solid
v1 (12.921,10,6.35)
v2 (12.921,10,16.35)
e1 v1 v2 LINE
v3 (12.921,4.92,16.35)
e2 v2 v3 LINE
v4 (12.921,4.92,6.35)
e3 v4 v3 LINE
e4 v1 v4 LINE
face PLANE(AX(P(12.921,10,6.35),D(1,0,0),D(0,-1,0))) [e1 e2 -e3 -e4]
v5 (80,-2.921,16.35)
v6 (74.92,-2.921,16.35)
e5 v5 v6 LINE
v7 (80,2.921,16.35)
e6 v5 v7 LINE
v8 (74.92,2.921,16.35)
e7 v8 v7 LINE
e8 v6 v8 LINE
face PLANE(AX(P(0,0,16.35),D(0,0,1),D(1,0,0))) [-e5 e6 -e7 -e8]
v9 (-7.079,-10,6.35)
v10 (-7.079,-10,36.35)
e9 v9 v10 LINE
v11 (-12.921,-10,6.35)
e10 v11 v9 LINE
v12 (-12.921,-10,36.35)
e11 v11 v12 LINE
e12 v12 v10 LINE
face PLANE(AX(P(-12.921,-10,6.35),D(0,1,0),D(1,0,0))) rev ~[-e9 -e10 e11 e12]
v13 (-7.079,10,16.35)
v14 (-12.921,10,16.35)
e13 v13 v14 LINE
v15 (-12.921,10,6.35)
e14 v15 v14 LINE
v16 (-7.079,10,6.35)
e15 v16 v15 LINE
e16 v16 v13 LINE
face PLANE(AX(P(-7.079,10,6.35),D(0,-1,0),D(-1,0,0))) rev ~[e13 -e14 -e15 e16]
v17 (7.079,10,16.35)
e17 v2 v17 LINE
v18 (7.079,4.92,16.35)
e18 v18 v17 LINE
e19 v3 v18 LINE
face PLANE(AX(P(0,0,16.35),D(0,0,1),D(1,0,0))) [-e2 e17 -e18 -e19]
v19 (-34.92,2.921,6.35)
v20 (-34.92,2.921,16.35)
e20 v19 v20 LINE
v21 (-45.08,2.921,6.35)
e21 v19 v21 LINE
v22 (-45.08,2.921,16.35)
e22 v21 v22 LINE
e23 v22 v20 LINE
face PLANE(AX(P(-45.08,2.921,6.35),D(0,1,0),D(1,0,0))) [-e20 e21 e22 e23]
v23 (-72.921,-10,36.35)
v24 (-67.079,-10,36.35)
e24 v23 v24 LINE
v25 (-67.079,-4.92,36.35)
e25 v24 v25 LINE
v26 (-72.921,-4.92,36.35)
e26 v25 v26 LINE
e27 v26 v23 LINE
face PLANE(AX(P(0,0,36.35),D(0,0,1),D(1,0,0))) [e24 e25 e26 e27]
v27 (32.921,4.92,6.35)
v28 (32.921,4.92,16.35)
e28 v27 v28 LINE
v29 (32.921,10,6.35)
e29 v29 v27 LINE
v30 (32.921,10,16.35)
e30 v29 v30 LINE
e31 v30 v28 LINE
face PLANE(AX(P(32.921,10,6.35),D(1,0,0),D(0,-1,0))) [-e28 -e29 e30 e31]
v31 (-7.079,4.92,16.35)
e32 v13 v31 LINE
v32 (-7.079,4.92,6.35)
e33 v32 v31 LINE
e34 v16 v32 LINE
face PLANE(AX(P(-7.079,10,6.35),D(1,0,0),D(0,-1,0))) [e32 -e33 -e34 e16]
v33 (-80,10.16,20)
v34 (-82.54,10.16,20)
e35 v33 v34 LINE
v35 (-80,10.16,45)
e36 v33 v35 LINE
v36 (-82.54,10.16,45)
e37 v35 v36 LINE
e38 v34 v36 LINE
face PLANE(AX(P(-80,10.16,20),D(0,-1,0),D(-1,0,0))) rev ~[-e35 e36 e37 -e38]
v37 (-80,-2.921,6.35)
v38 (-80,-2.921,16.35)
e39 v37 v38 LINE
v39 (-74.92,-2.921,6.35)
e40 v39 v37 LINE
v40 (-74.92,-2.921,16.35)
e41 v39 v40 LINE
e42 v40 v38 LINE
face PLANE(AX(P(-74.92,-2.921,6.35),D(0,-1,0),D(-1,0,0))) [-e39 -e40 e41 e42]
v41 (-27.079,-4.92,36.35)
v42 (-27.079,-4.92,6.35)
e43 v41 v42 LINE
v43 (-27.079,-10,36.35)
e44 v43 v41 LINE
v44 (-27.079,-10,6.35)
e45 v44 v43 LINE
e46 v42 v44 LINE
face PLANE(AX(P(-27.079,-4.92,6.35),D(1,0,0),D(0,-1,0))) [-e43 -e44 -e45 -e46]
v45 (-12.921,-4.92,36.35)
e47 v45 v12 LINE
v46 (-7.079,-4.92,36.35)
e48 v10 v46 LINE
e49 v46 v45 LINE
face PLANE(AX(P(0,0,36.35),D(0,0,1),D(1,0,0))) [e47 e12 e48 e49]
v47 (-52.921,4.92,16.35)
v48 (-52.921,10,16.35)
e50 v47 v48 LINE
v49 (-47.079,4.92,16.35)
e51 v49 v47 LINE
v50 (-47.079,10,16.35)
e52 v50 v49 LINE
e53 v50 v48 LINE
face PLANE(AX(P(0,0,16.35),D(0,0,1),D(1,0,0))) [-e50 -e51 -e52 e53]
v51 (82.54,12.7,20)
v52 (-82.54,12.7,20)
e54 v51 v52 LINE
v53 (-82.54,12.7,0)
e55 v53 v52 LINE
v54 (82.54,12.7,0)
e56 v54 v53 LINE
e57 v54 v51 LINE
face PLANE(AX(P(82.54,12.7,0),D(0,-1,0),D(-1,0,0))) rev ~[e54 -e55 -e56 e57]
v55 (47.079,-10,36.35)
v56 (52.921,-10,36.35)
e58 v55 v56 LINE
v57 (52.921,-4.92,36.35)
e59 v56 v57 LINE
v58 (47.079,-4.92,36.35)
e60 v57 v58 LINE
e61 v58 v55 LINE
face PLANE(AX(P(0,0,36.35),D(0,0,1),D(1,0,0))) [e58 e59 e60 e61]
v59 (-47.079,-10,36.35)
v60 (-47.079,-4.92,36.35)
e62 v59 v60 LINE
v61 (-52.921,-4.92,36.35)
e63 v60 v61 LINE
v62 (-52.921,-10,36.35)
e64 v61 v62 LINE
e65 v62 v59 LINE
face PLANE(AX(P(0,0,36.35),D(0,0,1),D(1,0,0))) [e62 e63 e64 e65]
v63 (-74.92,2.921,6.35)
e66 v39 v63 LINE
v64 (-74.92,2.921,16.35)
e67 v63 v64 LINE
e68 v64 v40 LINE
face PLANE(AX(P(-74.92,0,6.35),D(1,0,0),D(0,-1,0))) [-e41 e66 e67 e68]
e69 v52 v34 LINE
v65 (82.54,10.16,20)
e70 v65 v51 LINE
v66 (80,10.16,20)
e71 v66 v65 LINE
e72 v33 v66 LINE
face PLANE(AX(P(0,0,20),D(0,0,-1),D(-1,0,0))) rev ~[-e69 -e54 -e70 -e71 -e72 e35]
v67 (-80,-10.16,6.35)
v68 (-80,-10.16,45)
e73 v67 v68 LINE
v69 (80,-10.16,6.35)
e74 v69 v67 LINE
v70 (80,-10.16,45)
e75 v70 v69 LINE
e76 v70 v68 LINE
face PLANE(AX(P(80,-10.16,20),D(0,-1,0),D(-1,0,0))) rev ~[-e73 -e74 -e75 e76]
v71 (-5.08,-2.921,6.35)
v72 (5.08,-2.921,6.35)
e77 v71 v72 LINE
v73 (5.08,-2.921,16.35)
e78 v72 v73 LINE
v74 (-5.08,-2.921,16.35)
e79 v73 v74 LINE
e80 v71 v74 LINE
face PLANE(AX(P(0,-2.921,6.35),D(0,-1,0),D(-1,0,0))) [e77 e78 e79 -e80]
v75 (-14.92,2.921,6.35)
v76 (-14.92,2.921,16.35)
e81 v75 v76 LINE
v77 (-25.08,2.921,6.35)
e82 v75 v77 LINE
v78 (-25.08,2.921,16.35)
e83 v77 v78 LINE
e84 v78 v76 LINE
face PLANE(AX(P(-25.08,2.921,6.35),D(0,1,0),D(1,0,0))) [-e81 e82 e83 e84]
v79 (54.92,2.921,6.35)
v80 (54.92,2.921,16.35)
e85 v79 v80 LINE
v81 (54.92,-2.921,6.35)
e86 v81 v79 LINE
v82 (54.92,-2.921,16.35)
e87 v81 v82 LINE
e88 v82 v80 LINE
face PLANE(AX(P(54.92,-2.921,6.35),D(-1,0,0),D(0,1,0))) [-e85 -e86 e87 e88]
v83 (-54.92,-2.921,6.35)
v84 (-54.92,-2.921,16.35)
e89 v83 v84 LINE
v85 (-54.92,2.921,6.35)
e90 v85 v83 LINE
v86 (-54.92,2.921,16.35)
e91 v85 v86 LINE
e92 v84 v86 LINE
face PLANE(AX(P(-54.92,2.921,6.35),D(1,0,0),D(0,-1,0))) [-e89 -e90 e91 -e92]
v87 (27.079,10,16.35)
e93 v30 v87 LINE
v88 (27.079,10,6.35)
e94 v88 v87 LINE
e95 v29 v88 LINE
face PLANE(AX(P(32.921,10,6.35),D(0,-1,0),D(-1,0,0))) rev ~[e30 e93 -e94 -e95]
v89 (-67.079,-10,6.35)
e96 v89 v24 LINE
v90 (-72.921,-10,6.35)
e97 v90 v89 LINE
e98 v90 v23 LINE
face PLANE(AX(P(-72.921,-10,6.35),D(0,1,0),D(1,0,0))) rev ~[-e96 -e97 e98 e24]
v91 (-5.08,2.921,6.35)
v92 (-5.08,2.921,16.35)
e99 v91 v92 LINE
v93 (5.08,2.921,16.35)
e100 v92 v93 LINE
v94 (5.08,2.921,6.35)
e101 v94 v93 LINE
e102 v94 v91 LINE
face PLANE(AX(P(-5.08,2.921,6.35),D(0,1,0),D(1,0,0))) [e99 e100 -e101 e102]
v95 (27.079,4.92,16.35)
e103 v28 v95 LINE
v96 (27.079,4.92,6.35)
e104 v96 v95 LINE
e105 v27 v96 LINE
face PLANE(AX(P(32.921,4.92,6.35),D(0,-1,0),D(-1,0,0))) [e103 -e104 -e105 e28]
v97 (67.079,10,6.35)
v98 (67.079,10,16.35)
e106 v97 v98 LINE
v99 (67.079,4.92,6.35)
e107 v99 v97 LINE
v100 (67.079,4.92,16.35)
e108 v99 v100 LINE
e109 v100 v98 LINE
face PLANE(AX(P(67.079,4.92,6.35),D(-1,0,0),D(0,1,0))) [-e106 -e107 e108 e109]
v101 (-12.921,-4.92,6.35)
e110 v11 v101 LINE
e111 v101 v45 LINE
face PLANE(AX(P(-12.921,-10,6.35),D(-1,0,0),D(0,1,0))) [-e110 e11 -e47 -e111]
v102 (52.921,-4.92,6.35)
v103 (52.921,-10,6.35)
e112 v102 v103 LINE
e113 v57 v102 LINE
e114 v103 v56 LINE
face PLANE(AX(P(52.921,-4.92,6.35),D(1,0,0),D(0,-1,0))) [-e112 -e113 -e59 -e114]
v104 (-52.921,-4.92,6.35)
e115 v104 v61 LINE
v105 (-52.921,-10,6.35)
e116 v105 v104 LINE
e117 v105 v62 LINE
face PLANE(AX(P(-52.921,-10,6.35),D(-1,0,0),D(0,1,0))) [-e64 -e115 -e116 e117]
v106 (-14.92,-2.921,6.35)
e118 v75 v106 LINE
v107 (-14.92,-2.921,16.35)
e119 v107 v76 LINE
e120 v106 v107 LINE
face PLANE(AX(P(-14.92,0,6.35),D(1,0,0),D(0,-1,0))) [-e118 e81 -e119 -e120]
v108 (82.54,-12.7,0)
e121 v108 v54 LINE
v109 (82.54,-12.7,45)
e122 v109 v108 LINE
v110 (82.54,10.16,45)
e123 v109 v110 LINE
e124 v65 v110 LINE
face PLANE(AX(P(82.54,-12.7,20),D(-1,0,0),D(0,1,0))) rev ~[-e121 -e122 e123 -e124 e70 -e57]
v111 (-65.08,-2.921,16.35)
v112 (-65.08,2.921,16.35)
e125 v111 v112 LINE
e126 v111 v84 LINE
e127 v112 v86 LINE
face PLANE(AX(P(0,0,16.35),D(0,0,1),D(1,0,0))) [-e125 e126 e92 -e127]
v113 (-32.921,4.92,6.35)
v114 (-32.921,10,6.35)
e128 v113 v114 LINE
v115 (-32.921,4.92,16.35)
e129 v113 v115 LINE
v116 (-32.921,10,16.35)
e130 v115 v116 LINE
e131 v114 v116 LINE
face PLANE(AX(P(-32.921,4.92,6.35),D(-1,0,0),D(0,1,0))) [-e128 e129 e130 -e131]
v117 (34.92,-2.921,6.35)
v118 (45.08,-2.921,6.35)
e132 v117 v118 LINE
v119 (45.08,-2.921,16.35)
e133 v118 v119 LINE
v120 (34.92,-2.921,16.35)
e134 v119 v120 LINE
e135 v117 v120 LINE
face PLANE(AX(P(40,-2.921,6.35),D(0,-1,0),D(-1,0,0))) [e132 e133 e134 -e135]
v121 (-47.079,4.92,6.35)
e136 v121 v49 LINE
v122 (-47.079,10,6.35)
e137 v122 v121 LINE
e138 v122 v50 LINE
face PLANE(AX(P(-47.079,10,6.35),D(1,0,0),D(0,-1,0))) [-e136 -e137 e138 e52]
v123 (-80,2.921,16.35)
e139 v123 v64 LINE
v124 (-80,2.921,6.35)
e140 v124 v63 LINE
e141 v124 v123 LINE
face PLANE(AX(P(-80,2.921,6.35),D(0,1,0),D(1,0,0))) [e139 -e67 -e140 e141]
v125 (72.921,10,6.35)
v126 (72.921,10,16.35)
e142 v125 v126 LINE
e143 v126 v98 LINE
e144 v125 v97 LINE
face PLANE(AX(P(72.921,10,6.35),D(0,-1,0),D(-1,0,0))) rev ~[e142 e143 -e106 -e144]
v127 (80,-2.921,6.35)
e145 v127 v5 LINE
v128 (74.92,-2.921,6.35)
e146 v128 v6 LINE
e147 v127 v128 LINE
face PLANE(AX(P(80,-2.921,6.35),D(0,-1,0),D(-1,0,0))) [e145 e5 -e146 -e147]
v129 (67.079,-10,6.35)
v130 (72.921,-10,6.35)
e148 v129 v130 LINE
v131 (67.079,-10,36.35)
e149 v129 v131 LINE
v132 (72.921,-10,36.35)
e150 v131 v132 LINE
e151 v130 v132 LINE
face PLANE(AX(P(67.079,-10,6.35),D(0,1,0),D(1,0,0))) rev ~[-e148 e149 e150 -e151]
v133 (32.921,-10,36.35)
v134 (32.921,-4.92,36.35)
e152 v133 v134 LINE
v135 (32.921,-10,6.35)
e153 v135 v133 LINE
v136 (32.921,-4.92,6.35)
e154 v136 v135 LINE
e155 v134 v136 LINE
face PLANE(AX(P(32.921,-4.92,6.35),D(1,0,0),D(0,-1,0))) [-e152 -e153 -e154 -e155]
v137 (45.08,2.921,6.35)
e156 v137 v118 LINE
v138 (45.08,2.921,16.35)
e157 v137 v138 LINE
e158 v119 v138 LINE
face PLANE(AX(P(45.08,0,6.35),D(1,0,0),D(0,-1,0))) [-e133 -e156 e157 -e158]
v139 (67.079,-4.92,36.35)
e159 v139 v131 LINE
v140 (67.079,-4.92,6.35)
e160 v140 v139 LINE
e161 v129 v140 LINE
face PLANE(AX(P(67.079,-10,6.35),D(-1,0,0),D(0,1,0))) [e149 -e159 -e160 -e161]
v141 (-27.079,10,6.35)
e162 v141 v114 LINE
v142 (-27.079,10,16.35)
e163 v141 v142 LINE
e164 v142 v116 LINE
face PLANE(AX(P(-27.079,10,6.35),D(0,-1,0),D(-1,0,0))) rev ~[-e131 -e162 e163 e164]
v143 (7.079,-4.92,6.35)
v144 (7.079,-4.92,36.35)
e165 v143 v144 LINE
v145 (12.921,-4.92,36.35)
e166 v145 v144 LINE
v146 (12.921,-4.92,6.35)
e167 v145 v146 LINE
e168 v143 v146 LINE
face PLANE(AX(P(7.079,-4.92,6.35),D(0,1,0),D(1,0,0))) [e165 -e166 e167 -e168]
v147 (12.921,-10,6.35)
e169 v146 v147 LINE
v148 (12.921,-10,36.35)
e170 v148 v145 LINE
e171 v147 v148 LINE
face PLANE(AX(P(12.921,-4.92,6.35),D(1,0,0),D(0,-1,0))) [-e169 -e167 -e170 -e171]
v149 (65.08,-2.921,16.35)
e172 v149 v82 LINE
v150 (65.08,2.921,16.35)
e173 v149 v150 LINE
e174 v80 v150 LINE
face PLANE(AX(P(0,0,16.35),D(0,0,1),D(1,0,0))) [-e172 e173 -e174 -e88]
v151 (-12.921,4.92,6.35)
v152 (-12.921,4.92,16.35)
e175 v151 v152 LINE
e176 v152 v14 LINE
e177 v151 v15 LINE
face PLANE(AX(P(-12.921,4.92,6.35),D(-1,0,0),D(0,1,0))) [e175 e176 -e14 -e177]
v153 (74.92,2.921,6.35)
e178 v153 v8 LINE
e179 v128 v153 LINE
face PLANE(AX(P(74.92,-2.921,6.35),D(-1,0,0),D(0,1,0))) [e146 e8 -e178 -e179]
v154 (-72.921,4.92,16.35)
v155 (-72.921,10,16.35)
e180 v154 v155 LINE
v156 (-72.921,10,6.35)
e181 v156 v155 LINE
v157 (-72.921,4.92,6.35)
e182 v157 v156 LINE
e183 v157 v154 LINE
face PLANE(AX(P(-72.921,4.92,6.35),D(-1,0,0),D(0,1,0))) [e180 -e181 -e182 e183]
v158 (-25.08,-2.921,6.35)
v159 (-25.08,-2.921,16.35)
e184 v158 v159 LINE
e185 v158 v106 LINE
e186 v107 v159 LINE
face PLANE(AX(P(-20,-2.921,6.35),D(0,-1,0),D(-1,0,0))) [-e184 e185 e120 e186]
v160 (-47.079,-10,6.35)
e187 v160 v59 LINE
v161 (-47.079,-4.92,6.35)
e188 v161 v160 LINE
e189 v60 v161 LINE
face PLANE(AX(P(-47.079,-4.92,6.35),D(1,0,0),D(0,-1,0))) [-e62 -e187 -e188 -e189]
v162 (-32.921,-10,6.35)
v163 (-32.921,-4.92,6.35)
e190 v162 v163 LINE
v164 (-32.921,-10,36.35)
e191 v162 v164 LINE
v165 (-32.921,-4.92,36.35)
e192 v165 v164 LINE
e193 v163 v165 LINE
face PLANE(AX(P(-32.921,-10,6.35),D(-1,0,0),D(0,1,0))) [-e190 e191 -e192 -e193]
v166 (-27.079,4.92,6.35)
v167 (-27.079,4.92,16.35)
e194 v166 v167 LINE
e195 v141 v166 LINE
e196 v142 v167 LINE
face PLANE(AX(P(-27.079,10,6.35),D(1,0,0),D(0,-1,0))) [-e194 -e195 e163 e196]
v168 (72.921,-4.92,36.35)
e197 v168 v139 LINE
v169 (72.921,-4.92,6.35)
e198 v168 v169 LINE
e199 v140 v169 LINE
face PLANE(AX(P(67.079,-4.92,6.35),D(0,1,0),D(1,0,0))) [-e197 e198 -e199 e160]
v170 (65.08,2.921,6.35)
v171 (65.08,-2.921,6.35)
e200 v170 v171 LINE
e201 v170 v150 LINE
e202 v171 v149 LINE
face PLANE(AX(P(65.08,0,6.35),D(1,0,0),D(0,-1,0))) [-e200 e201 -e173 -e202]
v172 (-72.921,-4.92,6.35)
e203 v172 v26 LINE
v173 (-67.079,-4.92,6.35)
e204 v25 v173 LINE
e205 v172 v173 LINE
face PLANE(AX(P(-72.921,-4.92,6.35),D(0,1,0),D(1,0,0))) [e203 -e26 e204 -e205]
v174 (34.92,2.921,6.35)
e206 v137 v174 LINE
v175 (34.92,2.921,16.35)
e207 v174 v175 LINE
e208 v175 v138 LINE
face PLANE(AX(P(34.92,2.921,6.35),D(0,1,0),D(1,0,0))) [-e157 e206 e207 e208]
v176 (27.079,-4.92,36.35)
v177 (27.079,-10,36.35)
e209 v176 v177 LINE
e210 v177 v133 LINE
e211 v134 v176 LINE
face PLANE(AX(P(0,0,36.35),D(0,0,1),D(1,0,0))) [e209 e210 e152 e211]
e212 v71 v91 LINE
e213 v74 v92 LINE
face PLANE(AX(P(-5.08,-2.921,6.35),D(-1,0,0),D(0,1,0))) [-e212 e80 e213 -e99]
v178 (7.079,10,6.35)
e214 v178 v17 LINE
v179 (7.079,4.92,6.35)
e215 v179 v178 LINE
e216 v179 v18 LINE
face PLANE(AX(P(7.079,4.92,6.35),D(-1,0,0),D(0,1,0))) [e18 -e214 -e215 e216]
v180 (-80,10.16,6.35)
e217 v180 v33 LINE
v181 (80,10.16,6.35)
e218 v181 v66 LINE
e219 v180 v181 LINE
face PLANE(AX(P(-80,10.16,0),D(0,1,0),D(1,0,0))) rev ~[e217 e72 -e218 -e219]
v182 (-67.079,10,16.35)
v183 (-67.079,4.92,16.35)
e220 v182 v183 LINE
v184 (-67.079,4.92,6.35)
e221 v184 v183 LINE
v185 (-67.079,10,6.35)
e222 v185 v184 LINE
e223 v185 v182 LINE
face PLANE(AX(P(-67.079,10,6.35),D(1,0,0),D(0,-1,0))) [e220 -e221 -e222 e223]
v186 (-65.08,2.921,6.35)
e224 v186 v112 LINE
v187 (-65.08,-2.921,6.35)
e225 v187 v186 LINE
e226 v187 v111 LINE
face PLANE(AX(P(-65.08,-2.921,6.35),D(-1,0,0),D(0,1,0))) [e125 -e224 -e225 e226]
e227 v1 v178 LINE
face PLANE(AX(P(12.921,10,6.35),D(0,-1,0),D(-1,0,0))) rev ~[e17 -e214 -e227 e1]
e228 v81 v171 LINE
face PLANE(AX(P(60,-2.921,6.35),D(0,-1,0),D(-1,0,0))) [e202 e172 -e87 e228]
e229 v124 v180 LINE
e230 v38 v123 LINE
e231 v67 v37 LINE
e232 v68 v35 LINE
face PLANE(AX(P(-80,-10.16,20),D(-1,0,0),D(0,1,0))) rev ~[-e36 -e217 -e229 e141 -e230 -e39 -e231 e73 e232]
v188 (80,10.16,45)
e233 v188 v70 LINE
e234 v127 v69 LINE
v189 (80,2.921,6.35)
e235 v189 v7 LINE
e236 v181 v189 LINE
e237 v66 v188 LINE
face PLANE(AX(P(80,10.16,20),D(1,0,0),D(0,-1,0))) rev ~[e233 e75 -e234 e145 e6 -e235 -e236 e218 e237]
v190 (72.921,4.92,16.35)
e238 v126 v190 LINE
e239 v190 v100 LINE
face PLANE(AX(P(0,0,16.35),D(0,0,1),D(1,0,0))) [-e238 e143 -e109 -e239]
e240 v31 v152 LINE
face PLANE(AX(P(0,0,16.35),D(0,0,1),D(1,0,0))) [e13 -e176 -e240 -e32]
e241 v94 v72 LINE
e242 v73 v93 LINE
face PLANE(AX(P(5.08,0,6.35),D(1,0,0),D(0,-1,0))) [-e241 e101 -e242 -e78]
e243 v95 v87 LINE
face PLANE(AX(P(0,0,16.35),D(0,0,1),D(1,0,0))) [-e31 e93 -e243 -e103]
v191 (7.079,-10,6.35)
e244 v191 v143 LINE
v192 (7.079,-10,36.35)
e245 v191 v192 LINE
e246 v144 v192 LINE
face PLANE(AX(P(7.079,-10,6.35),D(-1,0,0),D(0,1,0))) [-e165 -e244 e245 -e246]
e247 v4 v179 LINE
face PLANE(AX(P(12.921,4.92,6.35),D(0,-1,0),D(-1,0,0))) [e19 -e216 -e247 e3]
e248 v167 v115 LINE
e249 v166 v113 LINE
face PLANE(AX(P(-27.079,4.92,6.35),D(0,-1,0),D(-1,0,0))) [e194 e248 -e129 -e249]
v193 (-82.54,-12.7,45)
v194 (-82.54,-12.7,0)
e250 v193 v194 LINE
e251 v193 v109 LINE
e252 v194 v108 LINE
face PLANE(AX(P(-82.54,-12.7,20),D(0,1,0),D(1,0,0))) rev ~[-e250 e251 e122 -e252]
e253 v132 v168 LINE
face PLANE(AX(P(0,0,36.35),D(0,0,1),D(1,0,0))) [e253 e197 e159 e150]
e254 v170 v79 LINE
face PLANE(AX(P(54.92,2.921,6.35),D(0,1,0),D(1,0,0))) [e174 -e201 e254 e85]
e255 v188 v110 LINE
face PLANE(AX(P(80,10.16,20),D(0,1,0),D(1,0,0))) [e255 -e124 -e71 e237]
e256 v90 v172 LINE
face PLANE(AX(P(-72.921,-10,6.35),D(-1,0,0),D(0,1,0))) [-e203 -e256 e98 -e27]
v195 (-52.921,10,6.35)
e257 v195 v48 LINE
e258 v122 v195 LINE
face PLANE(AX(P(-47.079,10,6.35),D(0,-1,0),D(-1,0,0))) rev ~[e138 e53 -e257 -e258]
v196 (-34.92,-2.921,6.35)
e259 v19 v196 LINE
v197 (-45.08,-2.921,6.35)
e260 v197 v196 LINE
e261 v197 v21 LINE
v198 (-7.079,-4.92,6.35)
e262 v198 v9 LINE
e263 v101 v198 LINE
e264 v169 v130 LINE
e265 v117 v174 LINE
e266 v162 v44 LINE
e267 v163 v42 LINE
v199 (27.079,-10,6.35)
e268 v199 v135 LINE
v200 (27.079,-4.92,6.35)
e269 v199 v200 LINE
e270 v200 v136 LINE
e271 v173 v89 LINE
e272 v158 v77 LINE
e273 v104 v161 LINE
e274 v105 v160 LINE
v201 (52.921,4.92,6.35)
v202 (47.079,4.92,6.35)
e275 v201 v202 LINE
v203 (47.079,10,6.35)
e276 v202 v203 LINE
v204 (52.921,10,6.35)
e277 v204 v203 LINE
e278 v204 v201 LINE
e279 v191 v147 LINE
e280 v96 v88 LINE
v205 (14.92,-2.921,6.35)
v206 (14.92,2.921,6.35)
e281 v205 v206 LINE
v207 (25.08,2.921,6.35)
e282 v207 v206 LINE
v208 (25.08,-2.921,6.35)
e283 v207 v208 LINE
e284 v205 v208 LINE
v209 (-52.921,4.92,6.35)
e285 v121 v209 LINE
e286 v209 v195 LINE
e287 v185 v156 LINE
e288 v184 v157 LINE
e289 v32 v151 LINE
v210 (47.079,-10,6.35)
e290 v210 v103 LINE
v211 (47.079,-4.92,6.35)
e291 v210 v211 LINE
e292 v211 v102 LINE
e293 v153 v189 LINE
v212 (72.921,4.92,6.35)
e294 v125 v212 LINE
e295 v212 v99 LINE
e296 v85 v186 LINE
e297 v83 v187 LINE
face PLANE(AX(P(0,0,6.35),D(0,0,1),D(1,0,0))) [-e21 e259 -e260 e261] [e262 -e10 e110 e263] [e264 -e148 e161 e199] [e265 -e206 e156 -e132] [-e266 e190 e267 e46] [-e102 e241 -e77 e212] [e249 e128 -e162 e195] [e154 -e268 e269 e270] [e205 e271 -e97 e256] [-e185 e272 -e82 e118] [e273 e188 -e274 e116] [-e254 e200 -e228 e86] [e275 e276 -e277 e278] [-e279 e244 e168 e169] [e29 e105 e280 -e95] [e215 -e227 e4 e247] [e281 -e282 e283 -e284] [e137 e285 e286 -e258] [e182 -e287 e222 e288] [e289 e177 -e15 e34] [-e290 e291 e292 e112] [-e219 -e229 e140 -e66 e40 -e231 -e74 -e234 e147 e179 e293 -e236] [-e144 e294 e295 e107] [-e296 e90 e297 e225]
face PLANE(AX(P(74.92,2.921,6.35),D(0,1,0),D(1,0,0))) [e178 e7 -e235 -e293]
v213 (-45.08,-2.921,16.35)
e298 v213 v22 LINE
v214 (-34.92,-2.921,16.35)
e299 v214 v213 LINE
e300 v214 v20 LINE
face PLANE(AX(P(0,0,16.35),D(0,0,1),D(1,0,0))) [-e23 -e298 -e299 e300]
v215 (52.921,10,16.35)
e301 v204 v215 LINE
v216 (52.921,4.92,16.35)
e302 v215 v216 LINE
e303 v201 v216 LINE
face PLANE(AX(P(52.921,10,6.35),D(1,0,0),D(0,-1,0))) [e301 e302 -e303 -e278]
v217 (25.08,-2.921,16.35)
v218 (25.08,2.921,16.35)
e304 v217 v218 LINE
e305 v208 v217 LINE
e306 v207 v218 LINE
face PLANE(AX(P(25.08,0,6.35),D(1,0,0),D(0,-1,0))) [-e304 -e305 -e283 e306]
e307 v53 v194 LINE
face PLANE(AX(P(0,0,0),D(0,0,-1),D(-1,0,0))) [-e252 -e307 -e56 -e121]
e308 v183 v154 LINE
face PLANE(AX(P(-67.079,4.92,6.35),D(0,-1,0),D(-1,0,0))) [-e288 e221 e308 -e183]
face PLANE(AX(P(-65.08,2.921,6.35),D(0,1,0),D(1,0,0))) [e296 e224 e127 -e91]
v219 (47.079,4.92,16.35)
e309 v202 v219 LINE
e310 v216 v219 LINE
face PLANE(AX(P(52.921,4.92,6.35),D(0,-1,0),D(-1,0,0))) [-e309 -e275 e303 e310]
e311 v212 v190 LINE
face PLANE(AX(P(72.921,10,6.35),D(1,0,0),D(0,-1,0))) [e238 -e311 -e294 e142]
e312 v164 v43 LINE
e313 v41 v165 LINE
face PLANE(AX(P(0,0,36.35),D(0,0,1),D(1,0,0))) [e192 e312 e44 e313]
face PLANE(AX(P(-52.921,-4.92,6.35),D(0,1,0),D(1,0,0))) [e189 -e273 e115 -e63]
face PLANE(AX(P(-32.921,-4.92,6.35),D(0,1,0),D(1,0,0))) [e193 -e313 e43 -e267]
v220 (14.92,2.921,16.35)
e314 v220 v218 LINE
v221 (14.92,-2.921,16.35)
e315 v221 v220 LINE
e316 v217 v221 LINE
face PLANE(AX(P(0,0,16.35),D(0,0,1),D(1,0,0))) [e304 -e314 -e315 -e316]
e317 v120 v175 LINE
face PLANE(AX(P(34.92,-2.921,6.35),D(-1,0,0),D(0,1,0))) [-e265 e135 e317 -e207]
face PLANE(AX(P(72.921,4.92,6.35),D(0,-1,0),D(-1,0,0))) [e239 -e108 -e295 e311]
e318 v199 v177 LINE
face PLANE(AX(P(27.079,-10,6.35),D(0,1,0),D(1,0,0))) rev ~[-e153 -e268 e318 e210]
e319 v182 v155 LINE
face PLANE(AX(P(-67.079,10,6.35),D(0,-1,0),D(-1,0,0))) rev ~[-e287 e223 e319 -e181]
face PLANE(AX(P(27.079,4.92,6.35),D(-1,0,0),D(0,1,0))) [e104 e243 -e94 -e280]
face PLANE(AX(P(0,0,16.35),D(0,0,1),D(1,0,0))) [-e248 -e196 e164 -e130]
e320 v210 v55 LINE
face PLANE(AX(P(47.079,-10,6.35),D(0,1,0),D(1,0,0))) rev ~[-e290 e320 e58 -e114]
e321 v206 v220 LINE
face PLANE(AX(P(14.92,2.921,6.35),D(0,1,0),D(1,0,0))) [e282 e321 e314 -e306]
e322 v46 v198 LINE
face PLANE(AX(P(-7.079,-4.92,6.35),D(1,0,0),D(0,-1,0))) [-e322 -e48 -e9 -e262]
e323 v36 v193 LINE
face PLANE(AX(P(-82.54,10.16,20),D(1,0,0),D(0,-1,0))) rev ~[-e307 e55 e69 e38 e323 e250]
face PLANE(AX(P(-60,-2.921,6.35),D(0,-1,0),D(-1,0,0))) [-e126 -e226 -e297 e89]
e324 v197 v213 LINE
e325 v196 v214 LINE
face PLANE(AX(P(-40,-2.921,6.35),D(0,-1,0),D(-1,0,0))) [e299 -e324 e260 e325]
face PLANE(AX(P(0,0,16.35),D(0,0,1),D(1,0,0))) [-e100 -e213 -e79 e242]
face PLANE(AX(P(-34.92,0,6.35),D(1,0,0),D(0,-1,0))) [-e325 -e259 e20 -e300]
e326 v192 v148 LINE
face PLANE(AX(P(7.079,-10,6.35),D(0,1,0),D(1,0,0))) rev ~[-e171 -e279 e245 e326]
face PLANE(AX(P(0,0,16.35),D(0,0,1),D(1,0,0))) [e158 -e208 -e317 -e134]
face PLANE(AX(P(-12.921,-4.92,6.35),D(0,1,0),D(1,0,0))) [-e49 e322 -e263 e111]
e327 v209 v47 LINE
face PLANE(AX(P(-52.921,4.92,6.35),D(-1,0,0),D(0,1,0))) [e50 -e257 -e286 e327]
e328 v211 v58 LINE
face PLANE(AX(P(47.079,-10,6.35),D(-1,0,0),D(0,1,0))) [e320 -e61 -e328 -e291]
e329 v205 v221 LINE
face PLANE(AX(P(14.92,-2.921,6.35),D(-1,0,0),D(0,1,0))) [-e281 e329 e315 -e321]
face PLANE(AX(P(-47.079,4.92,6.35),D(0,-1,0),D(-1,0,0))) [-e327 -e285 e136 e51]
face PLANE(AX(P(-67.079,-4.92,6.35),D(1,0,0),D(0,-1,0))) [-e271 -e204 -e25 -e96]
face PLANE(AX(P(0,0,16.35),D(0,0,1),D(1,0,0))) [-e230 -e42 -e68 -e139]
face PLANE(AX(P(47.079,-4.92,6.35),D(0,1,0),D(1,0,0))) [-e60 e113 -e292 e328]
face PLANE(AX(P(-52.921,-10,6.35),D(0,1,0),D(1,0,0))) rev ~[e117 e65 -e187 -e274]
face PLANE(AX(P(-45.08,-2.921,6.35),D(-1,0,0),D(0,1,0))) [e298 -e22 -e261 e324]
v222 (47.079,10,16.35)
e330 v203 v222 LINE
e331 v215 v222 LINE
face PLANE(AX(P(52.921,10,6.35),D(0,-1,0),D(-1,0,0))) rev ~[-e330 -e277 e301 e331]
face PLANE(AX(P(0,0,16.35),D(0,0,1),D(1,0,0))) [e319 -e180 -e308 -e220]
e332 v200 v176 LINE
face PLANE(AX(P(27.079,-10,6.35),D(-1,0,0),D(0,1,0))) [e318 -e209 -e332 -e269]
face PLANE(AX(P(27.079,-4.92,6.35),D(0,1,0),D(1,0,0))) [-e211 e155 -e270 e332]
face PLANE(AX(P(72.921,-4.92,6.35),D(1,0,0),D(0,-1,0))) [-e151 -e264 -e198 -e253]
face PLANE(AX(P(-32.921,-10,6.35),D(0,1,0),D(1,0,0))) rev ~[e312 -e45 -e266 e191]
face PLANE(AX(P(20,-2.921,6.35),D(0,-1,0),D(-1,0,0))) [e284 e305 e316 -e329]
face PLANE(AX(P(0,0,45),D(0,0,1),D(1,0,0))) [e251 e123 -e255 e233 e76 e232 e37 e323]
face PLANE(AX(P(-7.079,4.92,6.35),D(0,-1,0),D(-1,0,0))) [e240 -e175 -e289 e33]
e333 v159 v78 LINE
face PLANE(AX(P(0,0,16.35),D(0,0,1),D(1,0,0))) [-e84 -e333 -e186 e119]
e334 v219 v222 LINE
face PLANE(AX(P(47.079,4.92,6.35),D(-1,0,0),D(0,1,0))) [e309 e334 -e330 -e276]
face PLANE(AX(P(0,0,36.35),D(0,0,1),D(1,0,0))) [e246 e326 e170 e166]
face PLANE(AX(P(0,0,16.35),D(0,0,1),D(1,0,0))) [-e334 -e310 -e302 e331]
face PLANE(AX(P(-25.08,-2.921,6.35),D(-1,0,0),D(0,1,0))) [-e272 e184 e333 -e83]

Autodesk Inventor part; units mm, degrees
ref_plane "YZ Plane" through (0, 0, 0) normal (1, 0, 0) x (0, 1, 0)
ref_plane "XZ Plane" through (0, 0, 0) normal (0, 1, 0) x (-1, 0, 0)
ref_plane "XY Plane" through (0, 0, 0) normal (0, 0, 1) x (1, 0, 0)
sketch "Sketch1" plane through (0, 0, 0) normal (0, 0, 1) x (1, 0, 0)
  line L0 (80, -10.16) -> (-80, -10.16)
  line L1 (-80, -10.16) -> (-80, 10.16)
  line L2 (-80, 10.16) -> (80, 10.16)
  line L3 (80, 10.16) -> (80, -10.16)
  line L4 (80, -10.16) -> (-80, 10.16) construction
  line L5 (-80, -10.16) -> (80, 10.16) construction
  line L6 (-85.08, -2.921) -> (-74.92, -2.921)
  line L7 (-74.92, -2.921) -> (-74.92, 2.921)
  line L8 (-74.92, 2.921) -> (-85.08, 2.921)
  line L9 (-85.08, 2.921) -> (-85.08, -2.921)
  line L10 (-85.08, -2.921) -> (-74.92, 2.921) construction
  line L11 (-74.92, -2.921) -> (-85.08, 2.921) construction
  point P0 (0, 0)
  point P1 (-80, 0)
  dimension "d0" = 160
  dimension "d1" = 20.32
  dimension "d2" = 10.16
  dimension "d3" = 5.842
extrude "Extrusion1" add sketch "Sketch1" along normal blind 6.35 contours L0 L1 L6 L7 L8 L2 L3 | L1 L8 L7 L6
sketch "Sketch2" plane through (0, 0, 6.35) normal (0, 0, 1) x (1, 0, 0)
  line L0 (-74.92, -2.921) -> (-80, -2.921)
  line L1 (-80, 2.921) -> (-74.92, 2.921)
  line L2 (-74.92, 2.921) -> (-74.92, -2.921)
  line L3 (-80, 10.16) -> (-80, -10.16) projected
  line L4 (-80, 0) -> (-70, 0)
  line L5 (-80, 2.921) -> (-80, -2.921)
  line L6 (-67.079, -4.92) -> (-67.079, -10)
  line L7 (-72.921, -10) -> (-72.921, -4.92)
  line L8 (-72.921, -4.92) -> (-67.079, -4.92)
  line L9 (-72.921, -10) -> (-67.079, -10)
  line L10 (-65.08, 2.921) -> (-60, 2.921)
  line L11 (-60, -2.921) -> (-65.08, -2.921)
  line L12 (-65.08, -2.921) -> (-65.08, 2.921)
  line L13 (-60, -2.921) -> (-60, 2.921)
  line L14 (-72.921, 4.92) -> (-72.921, 10)
  line L15 (-67.079, 10) -> (-67.079, 4.92)
  line L16 (-67.079, 4.92) -> (-72.921, 4.92)
  line L17 (-67.079, 10) -> (-72.921, 10)
  line L18 (-45.08, -2.921) -> (-45.08, 2.921)
  line L19 (-40, -2.921) -> (-45.08, -2.921)
  line L20 (-40, -2.921) -> (-40, 2.921)
  line L21 (-45.08, 2.921) -> (-40, 2.921)
  line L22 (-47.079, 4.92) -> (-52.921, 4.92)
  line L23 (-52.921, 4.92) -> (-52.921, 10)
  line L24 (-47.079, 10) -> (-52.921, 10)
  line L25 (-47.079, 10) -> (-47.079, 4.92)
  line L26 (-54.92, -2.921) -> (-60, -2.921)
  line L27 (-60, 2.921) -> (-54.92, 2.921)
  line L28 (-54.92, 2.921) -> (-54.92, -2.921)
  line L29 (-60, 2.921) -> (-60, -2.921)
  line L30 (-60, 0) -> (-50, 0)
  line L31 (-47.079, -4.92) -> (-47.079, -10)
  line L32 (-52.921, -10) -> (-52.921, -4.92)
  line L33 (-52.921, -10) -> (-47.079, -10)
  line L34 (-52.921, -4.92) -> (-47.079, -4.92)
  line L35 (-25.08, -2.921) -> (-25.08, 2.921)
  line L36 (-20, -2.921) -> (-25.08, -2.921)
  line L37 (-20, -2.921) -> (-20, 2.921)
  line L38 (-25.08, 2.921) -> (-20, 2.921)
  line L39 (-27.079, 4.92) -> (-32.921, 4.92)
  line L40 (-32.921, 4.92) -> (-32.921, 10)
  line L41 (-27.079, 10) -> (-32.921, 10)
  line L42 (-27.079, 10) -> (-27.079, 4.92)
  line L43 (-34.92, -2.921) -> (-40, -2.921)
  line L44 (-40, 2.921) -> (-34.92, 2.921)
  line L45 (-34.92, 2.921) -> (-34.92, -2.921)
  line L46 (-40, 2.921) -> (-40, -2.921)
  line L47 (-40, 0) -> (-30, 0)
  line L48 (-27.079, -4.92) -> (-27.079, -10)
  line L49 (-32.921, -10) -> (-32.921, -4.92)
  line L50 (-32.921, -10) -> (-27.079, -10)
  line L51 (-32.921, -4.92) -> (-27.079, -4.92)
  line L52 (-5.08, -2.921) -> (-5.08, 2.921)
  line L53 (0, -2.921) -> (-5.08, -2.921)
  line L54 (0, -2.921) -> (0, 2.921)
  line L55 (-5.08, 2.921) -> (0, 2.921)
  line L56 (-7.079, 4.92) -> (-12.921, 4.92)
  line L57 (-12.921, 4.92) -> (-12.921, 10)
  line L58 (-7.079, 10) -> (-12.921, 10)
  line L59 (-7.079, 10) -> (-7.079, 4.92)
  line L60 (-14.92, -2.921) -> (-20, -2.921)
  line L61 (-20, 2.921) -> (-14.92, 2.921)
  line L62 (-14.92, 2.921) -> (-14.92, -2.921)
  line L63 (-20, 2.921) -> (-20, -2.921)
  line L64 (-20, 0) -> (-10, 0)
  line L65 (-7.079, -4.92) -> (-7.079, -10)
  line L66 (-12.921, -10) -> (-12.921, -4.92)
  line L67 (-12.921, -10) -> (-7.079, -10)
  line L68 (-12.921, -4.92) -> (-7.079, -4.92)
  line L69 (14.92, -2.921) -> (14.92, 2.921)
  line L70 (20, -2.921) -> (14.92, -2.921)
  line L71 (20, -2.921) -> (20, 2.921)
  line L72 (14.92, 2.921) -> (20, 2.921)
  line L73 (12.921, 4.92) -> (7.079, 4.92)
  line L74 (7.079, 4.92) -> (7.079, 10)
  line L75 (12.921, 10) -> (7.079, 10)
  line L76 (12.921, 10) -> (12.921, 4.92)
  line L77 (5.08, -2.921) -> (0, -2.921)
  line L78 (0, 2.921) -> (5.08, 2.921)
  line L79 (5.08, 2.921) -> (5.08, -2.921)
  line L80 (0, 2.921) -> (0, -2.921)
  line L81 (0, 0) -> (10, 0)
  line L82 (12.921, -4.92) -> (12.921, -10)
  line L83 (7.079, -10) -> (7.079, -4.92)
  line L84 (7.079, -10) -> (12.921, -10)
  line L85 (7.079, -4.92) -> (12.921, -4.92)
  line L86 (34.92, -2.921) -> (34.92, 2.921)
  line L87 (40, -2.921) -> (34.92, -2.921)
  line L88 (40, -2.921) -> (40, 2.921)
  line L89 (34.92, 2.921) -> (40, 2.921)
  line L90 (32.921, 4.92) -> (27.079, 4.92)
  line L91 (27.079, 4.92) -> (27.079, 10)
  line L92 (32.921, 10) -> (27.079, 10)
  line L93 (32.921, 10) -> (32.921, 4.92)
  line L94 (25.08, -2.921) -> (20, -2.921)
  line L95 (20, 2.921) -> (25.08, 2.921)
  line L96 (25.08, 2.921) -> (25.08, -2.921)
  line L97 (20, 2.921) -> (20, -2.921)
  line L98 (20, 0) -> (30, 0)
  line L99 (32.921, -4.92) -> (32.921, -10)
  line L100 (27.079, -10) -> (27.079, -4.92)
  line L101 (27.079, -10) -> (32.921, -10)
  line L102 (27.079, -4.92) -> (32.921, -4.92)
  line L103 (54.92, -2.921) -> (54.92, 2.921)
  line L104 (60, -2.921) -> (54.92, -2.921)
  line L105 (60, -2.921) -> (60, 2.921)
  line L106 (54.92, 2.921) -> (60, 2.921)
  line L107 (52.921, 4.92) -> (47.079, 4.92)
  line L108 (47.079, 4.92) -> (47.079, 10)
  line L109 (52.921, 10) -> (47.079, 10)
  line L110 (52.921, 10) -> (52.921, 4.92)
  line L111 (45.08, -2.921) -> (40, -2.921)
  line L112 (40, 2.921) -> (45.08, 2.921)
  line L113 (45.08, 2.921) -> (45.08, -2.921)
  line L114 (40, 2.921) -> (40, -2.921)
  line L115 (40, 0) -> (50, 0)
  line L116 (52.921, -4.92) -> (52.921, -10)
  line L117 (47.079, -10) -> (47.079, -4.92)
  line L118 (47.079, -10) -> (52.921, -10)
  line L119 (47.079, -4.92) -> (52.921, -4.92)
  line L120 (74.92, -2.921) -> (74.92, 2.921)
  line L121 (80, -2.921) -> (74.92, -2.921)
  line L122 (80, -2.921) -> (80, 2.921)
  line L123 (74.92, 2.921) -> (80, 2.921)
  line L124 (72.921, 4.92) -> (67.079, 4.92)
  line L125 (67.079, 4.92) -> (67.079, 10)
  line L126 (72.921, 10) -> (67.079, 10)
  line L127 (72.921, 10) -> (72.921, 4.92)
  line L128 (65.08, -2.921) -> (60, -2.921)
  line L129 (60, 2.921) -> (65.08, 2.921)
  line L130 (65.08, 2.921) -> (65.08, -2.921)
  line L131 (60, 2.921) -> (60, -2.921)
  line L132 (60, 0) -> (70, 0)
  line L133 (72.921, -4.92) -> (72.921, -10)
  line L134 (67.079, -10) -> (67.079, -4.92)
  line L135 (67.079, -10) -> (72.921, -10)
  line L136 (67.079, -4.92) -> (72.921, -4.92)
  point P0 (0, 0)
  point P1 (-70, -10)
  point P2 (-60, 0)
  point P3 (-70, 10)
  point P4 (-40, 0)
  point P5 (-50, 10)
  point P6 (-60, 10.16)
  point P7 (-60, -10.16)
  point P8 (-50, -10)
  point P9 (-20, 0)
  point P10 (-30, 10)
  point P11 (-40, 10.16)
  point P12 (-40, -10.16)
  point P13 (-30, -10)
  point P14 (0, 0)
  point P15 (-10, 10)
  point P16 (-20, 10.16)
  point P17 (-20, -10.16)
  point P18 (-10, -10)
  point P19 (20, 0)
  point P20 (10, 10)
  point P21 (0, 10.16)
  point P22 (0, -10.16)
  point P23 (10, -10)
  point P24 (40, 0)
  point P25 (30, 10)
  point P26 (20, 10.16)
  point P27 (20, -10.16)
  point P28 (30, -10)
  point P29 (60, 0)
  point P30 (50, 10)
  point P31 (40, 10.16)
  point P32 (40, -10.16)
  point P33 (50, -10)
  point P34 (80, 0)
  point P35 (70, 10)
  point P36 (60, 10.16)
  point P37 (60, -10.16)
  point P38 (70, -10)
  dimension "d8" = 10
  dimension "d11" = 360
  dimension "d15" = 20
extrude "Extrusion2" add sketch "Sketch2" along normal blind 10
sketch "Sketch3" plane through (0, 0, 6.35) normal (0, 0, 1) x (1, 0, 0)
  point P0 (0, 0)
sketch "Sketch4" plane through (0, 0, 0) normal (0, 0, -1) x (-1, 0, 0)
  line L0 (-80, -10.16) -> (80, -10.16) projected
  line L1 (80, -10.16) -> (80, 10.16) projected
  line L2 (80, 10.16) -> (-80, 10.16) projected
  line L3 (-80, 10.16) -> (-80, -10.16) projected
  line L4 (82.54, 12.7) -> (82.54, -12.7)
  line L5 (82.54, -12.7) -> (-82.54, -12.7)
  line L6 (-82.54, -12.7) -> (-82.54, 12.7)
  line L7 (-82.54, 12.7) -> (82.54, 12.7)
  point P0 (0, 0)
  dimension "d22" = 2.54
extrude "Extrusion3" add sketch "Sketch4" against normal blind 20
sketch "Sketch5" plane through (0, 0, 20) normal (0, 0, 1) x (1, 0, 0)
  line L0 (-80, -10.16) -> (-80, 10.16) projected
  line L1 (-80, 10.16) -> (80, 10.16) projected
  line L2 (80, 10.16) -> (80, -10.16) projected
  line L3 (80, -10.16) -> (-80, -10.16) projected
  line L4 (-82.54, 12.7) -> (-82.54, -12.7) projected
  line L5 (-82.54, -12.7) -> (82.54, -12.7) projected
  line L6 (82.54, -12.7) -> (82.54, 12.7) projected
  line L7 (82.54, 12.7) -> (-82.54, 12.7) projected
  line L8 (80, 10.16) -> (-80, 10.16) projected
  line L9 (-80, 10.16) -> (-82.54, 10.16)
  line L10 (80, 10.16) -> (82.54, 10.16)
  line L11 (82.54, -12.7) -> (82.54, 12.7) projected
  point P0 (0, 0)
extrude "Extrusion4" add sketch "Sketch5" along normal blind 25 contours L3 L2 L10 L6 L5 L4 L9 L0
sketch "Sketch6" plane through (0, 0, 16.35) normal (0, 0, 1) x (1, 0, 0)
  line L0 (-67.079, -10) -> (-67.079, -4.92) projected
  line L1 (-67.079, -4.92) -> (-72.921, -4.92) projected
  line L2 (-72.921, -4.92) -> (-72.921, -10) projected
  line L3 (-72.921, -10) -> (-67.079, -10) projected
  line L4 (-47.079, -10) -> (-47.079, -4.92) projected
  line L5 (-47.079, -4.92) -> (-52.921, -4.92) projected
  line L6 (-52.921, -4.92) -> (-52.921, -10) projected
  line L7 (-52.921, -10) -> (-47.079, -10) projected
  line L8 (-27.079, -10) -> (-27.079, -4.92) projected
  line L9 (-27.079, -4.92) -> (-32.921, -4.92) projected
  line L10 (-32.921, -4.92) -> (-32.921, -10) projected
  line L11 (-32.921, -10) -> (-27.079, -10) projected
  line L12 (-7.079, -10) -> (-7.079, -4.92) projected
  line L13 (-7.079, -4.92) -> (-12.921, -4.92) projected
  line L14 (-12.921, -4.92) -> (-12.921, -10) projected
  line L15 (-12.921, -10) -> (-7.079, -10) projected
  line L16 (12.921, -10) -> (12.921, -4.92) projected
  line L17 (12.921, -4.92) -> (7.079, -4.92) projected
  line L18 (7.079, -4.92) -> (7.079, -10) projected
  line L19 (7.079, -10) -> (12.921, -10) projected
  line L20 (32.921, -10) -> (32.921, -4.92) projected
  line L21 (32.921, -4.92) -> (27.079, -4.92) projected
  line L22 (27.079, -4.92) -> (27.079, -10) projected
  line L23 (27.079, -10) -> (32.921, -10) projected
  line L24 (52.921, -10) -> (52.921, -4.92) projected
  line L25 (52.921, -4.92) -> (47.079, -4.92) projected
  line L26 (47.079, -4.92) -> (47.079, -10) projected
  line L27 (47.079, -10) -> (52.921, -10) projected
  line L28 (72.921, -10) -> (72.921, -4.92) projected
  line L29 (72.921, -4.92) -> (67.079, -4.92) projected
  line L30 (67.079, -4.92) -> (67.079, -10) projected
  line L31 (67.079, -10) -> (72.921, -10) projected
  point P0 (0, 0)
extrude "Extrusion5" add sketch "Sketch6" along normal blind 20
sketch "Sketch7" plane through (0, 0, 16.35) normal (0, 0, 1) x (1, 0, 0)
  line L0 (-72.921, 10) -> (-72.921, 4.92) projected
  line L1 (-72.921, 4.92) -> (-67.079, 4.92) projected
  line L2 (-67.079, 4.92) -> (-67.079, 10) projected
  line L3 (-67.079, 10) -> (-72.921, 10) projected
  line L4 (-67.079, 4.92) -> (-72.921, 4.92) projected
  line L5 (-70, 4.92) -> (-63.65, 4.92)
  line L6 (-63.65, 4.92) -> (-63.65, 17.9959)
  line L7 (-63.65, 17.9959) -> (-76.35, 17.9959)
  line L8 (-76.35, 17.9959) -> (-76.35, 4.92)
  line L9 (-76.35, 4.92) -> (-70, 4.92)
  line L10 (-50, 4.92) -> (-43.65, 4.92)
  line L11 (-43.65, 4.92) -> (-43.65, 17.9959)
  line L12 (-43.65, 17.9959) -> (-56.35, 17.9959)
  line L13 (-56.35, 17.9959) -> (-56.35, 4.92)
  line L14 (-56.35, 4.92) -> (-50, 4.92)
  line L15 (-30, 4.92) -> (-23.65, 4.92)
  line L16 (-23.65, 4.92) -> (-23.65, 17.9959)
  line L17 (-23.65, 17.9959) -> (-36.35, 17.9959)
  line L18 (-36.35, 17.9959) -> (-36.35, 4.92)
  line L19 (-36.35, 4.92) -> (-30, 4.92)
  line L20 (-10, 4.92) -> (-3.65, 4.92)
  line L21 (-3.65, 4.92) -> (-3.65, 17.9959)
  line L22 (-3.65, 17.9959) -> (-16.35, 17.9959)
  line L23 (-16.35, 17.9959) -> (-16.35, 4.92)
  line L24 (-16.35, 4.92) -> (-10, 4.92)
  line L25 (10, 4.92) -> (16.35, 4.92)
  line L26 (16.35, 4.92) -> (16.35, 17.9959)
  line L27 (16.35, 17.9959) -> (3.65, 17.9959)
  line L28 (3.65, 17.9959) -> (3.65, 4.92)
  line L29 (3.65, 4.92) -> (10, 4.92)
  line L30 (30, 4.92) -> (36.35, 4.92)
  line L31 (36.35, 4.92) -> (36.35, 17.9959)
  line L32 (36.35, 17.9959) -> (23.65, 17.9959)
  line L33 (23.65, 17.9959) -> (23.65, 4.92)
  line L34 (23.65, 4.92) -> (30, 4.92)
  line L35 (50, 4.92) -> (56.35, 4.92)
  line L36 (56.35, 4.92) -> (56.35, 17.9959)
  line L37 (56.35, 17.9959) -> (43.65, 17.9959)
  line L38 (43.65, 17.9959) -> (43.65, 4.92)
  line L39 (43.65, 4.92) -> (50, 4.92)
  line L40 (70, 4.92) -> (76.35, 4.92)
  line L41 (76.35, 4.92) -> (76.35, 17.9959)
  line L42 (76.35, 17.9959) -> (63.65, 17.9959)
  line L43 (63.65, 17.9959) -> (63.65, 4.92)
  line L44 (63.65, 4.92) -> (70, 4.92)
  point P0 (0, 0)
  dimension "d29" = 6.35
  dimension "d30" = 12.7
  dimension "d33" = 20
extrude "Extrusion6" [suppressed]
properties part number "EndcapWithSlotholes"
